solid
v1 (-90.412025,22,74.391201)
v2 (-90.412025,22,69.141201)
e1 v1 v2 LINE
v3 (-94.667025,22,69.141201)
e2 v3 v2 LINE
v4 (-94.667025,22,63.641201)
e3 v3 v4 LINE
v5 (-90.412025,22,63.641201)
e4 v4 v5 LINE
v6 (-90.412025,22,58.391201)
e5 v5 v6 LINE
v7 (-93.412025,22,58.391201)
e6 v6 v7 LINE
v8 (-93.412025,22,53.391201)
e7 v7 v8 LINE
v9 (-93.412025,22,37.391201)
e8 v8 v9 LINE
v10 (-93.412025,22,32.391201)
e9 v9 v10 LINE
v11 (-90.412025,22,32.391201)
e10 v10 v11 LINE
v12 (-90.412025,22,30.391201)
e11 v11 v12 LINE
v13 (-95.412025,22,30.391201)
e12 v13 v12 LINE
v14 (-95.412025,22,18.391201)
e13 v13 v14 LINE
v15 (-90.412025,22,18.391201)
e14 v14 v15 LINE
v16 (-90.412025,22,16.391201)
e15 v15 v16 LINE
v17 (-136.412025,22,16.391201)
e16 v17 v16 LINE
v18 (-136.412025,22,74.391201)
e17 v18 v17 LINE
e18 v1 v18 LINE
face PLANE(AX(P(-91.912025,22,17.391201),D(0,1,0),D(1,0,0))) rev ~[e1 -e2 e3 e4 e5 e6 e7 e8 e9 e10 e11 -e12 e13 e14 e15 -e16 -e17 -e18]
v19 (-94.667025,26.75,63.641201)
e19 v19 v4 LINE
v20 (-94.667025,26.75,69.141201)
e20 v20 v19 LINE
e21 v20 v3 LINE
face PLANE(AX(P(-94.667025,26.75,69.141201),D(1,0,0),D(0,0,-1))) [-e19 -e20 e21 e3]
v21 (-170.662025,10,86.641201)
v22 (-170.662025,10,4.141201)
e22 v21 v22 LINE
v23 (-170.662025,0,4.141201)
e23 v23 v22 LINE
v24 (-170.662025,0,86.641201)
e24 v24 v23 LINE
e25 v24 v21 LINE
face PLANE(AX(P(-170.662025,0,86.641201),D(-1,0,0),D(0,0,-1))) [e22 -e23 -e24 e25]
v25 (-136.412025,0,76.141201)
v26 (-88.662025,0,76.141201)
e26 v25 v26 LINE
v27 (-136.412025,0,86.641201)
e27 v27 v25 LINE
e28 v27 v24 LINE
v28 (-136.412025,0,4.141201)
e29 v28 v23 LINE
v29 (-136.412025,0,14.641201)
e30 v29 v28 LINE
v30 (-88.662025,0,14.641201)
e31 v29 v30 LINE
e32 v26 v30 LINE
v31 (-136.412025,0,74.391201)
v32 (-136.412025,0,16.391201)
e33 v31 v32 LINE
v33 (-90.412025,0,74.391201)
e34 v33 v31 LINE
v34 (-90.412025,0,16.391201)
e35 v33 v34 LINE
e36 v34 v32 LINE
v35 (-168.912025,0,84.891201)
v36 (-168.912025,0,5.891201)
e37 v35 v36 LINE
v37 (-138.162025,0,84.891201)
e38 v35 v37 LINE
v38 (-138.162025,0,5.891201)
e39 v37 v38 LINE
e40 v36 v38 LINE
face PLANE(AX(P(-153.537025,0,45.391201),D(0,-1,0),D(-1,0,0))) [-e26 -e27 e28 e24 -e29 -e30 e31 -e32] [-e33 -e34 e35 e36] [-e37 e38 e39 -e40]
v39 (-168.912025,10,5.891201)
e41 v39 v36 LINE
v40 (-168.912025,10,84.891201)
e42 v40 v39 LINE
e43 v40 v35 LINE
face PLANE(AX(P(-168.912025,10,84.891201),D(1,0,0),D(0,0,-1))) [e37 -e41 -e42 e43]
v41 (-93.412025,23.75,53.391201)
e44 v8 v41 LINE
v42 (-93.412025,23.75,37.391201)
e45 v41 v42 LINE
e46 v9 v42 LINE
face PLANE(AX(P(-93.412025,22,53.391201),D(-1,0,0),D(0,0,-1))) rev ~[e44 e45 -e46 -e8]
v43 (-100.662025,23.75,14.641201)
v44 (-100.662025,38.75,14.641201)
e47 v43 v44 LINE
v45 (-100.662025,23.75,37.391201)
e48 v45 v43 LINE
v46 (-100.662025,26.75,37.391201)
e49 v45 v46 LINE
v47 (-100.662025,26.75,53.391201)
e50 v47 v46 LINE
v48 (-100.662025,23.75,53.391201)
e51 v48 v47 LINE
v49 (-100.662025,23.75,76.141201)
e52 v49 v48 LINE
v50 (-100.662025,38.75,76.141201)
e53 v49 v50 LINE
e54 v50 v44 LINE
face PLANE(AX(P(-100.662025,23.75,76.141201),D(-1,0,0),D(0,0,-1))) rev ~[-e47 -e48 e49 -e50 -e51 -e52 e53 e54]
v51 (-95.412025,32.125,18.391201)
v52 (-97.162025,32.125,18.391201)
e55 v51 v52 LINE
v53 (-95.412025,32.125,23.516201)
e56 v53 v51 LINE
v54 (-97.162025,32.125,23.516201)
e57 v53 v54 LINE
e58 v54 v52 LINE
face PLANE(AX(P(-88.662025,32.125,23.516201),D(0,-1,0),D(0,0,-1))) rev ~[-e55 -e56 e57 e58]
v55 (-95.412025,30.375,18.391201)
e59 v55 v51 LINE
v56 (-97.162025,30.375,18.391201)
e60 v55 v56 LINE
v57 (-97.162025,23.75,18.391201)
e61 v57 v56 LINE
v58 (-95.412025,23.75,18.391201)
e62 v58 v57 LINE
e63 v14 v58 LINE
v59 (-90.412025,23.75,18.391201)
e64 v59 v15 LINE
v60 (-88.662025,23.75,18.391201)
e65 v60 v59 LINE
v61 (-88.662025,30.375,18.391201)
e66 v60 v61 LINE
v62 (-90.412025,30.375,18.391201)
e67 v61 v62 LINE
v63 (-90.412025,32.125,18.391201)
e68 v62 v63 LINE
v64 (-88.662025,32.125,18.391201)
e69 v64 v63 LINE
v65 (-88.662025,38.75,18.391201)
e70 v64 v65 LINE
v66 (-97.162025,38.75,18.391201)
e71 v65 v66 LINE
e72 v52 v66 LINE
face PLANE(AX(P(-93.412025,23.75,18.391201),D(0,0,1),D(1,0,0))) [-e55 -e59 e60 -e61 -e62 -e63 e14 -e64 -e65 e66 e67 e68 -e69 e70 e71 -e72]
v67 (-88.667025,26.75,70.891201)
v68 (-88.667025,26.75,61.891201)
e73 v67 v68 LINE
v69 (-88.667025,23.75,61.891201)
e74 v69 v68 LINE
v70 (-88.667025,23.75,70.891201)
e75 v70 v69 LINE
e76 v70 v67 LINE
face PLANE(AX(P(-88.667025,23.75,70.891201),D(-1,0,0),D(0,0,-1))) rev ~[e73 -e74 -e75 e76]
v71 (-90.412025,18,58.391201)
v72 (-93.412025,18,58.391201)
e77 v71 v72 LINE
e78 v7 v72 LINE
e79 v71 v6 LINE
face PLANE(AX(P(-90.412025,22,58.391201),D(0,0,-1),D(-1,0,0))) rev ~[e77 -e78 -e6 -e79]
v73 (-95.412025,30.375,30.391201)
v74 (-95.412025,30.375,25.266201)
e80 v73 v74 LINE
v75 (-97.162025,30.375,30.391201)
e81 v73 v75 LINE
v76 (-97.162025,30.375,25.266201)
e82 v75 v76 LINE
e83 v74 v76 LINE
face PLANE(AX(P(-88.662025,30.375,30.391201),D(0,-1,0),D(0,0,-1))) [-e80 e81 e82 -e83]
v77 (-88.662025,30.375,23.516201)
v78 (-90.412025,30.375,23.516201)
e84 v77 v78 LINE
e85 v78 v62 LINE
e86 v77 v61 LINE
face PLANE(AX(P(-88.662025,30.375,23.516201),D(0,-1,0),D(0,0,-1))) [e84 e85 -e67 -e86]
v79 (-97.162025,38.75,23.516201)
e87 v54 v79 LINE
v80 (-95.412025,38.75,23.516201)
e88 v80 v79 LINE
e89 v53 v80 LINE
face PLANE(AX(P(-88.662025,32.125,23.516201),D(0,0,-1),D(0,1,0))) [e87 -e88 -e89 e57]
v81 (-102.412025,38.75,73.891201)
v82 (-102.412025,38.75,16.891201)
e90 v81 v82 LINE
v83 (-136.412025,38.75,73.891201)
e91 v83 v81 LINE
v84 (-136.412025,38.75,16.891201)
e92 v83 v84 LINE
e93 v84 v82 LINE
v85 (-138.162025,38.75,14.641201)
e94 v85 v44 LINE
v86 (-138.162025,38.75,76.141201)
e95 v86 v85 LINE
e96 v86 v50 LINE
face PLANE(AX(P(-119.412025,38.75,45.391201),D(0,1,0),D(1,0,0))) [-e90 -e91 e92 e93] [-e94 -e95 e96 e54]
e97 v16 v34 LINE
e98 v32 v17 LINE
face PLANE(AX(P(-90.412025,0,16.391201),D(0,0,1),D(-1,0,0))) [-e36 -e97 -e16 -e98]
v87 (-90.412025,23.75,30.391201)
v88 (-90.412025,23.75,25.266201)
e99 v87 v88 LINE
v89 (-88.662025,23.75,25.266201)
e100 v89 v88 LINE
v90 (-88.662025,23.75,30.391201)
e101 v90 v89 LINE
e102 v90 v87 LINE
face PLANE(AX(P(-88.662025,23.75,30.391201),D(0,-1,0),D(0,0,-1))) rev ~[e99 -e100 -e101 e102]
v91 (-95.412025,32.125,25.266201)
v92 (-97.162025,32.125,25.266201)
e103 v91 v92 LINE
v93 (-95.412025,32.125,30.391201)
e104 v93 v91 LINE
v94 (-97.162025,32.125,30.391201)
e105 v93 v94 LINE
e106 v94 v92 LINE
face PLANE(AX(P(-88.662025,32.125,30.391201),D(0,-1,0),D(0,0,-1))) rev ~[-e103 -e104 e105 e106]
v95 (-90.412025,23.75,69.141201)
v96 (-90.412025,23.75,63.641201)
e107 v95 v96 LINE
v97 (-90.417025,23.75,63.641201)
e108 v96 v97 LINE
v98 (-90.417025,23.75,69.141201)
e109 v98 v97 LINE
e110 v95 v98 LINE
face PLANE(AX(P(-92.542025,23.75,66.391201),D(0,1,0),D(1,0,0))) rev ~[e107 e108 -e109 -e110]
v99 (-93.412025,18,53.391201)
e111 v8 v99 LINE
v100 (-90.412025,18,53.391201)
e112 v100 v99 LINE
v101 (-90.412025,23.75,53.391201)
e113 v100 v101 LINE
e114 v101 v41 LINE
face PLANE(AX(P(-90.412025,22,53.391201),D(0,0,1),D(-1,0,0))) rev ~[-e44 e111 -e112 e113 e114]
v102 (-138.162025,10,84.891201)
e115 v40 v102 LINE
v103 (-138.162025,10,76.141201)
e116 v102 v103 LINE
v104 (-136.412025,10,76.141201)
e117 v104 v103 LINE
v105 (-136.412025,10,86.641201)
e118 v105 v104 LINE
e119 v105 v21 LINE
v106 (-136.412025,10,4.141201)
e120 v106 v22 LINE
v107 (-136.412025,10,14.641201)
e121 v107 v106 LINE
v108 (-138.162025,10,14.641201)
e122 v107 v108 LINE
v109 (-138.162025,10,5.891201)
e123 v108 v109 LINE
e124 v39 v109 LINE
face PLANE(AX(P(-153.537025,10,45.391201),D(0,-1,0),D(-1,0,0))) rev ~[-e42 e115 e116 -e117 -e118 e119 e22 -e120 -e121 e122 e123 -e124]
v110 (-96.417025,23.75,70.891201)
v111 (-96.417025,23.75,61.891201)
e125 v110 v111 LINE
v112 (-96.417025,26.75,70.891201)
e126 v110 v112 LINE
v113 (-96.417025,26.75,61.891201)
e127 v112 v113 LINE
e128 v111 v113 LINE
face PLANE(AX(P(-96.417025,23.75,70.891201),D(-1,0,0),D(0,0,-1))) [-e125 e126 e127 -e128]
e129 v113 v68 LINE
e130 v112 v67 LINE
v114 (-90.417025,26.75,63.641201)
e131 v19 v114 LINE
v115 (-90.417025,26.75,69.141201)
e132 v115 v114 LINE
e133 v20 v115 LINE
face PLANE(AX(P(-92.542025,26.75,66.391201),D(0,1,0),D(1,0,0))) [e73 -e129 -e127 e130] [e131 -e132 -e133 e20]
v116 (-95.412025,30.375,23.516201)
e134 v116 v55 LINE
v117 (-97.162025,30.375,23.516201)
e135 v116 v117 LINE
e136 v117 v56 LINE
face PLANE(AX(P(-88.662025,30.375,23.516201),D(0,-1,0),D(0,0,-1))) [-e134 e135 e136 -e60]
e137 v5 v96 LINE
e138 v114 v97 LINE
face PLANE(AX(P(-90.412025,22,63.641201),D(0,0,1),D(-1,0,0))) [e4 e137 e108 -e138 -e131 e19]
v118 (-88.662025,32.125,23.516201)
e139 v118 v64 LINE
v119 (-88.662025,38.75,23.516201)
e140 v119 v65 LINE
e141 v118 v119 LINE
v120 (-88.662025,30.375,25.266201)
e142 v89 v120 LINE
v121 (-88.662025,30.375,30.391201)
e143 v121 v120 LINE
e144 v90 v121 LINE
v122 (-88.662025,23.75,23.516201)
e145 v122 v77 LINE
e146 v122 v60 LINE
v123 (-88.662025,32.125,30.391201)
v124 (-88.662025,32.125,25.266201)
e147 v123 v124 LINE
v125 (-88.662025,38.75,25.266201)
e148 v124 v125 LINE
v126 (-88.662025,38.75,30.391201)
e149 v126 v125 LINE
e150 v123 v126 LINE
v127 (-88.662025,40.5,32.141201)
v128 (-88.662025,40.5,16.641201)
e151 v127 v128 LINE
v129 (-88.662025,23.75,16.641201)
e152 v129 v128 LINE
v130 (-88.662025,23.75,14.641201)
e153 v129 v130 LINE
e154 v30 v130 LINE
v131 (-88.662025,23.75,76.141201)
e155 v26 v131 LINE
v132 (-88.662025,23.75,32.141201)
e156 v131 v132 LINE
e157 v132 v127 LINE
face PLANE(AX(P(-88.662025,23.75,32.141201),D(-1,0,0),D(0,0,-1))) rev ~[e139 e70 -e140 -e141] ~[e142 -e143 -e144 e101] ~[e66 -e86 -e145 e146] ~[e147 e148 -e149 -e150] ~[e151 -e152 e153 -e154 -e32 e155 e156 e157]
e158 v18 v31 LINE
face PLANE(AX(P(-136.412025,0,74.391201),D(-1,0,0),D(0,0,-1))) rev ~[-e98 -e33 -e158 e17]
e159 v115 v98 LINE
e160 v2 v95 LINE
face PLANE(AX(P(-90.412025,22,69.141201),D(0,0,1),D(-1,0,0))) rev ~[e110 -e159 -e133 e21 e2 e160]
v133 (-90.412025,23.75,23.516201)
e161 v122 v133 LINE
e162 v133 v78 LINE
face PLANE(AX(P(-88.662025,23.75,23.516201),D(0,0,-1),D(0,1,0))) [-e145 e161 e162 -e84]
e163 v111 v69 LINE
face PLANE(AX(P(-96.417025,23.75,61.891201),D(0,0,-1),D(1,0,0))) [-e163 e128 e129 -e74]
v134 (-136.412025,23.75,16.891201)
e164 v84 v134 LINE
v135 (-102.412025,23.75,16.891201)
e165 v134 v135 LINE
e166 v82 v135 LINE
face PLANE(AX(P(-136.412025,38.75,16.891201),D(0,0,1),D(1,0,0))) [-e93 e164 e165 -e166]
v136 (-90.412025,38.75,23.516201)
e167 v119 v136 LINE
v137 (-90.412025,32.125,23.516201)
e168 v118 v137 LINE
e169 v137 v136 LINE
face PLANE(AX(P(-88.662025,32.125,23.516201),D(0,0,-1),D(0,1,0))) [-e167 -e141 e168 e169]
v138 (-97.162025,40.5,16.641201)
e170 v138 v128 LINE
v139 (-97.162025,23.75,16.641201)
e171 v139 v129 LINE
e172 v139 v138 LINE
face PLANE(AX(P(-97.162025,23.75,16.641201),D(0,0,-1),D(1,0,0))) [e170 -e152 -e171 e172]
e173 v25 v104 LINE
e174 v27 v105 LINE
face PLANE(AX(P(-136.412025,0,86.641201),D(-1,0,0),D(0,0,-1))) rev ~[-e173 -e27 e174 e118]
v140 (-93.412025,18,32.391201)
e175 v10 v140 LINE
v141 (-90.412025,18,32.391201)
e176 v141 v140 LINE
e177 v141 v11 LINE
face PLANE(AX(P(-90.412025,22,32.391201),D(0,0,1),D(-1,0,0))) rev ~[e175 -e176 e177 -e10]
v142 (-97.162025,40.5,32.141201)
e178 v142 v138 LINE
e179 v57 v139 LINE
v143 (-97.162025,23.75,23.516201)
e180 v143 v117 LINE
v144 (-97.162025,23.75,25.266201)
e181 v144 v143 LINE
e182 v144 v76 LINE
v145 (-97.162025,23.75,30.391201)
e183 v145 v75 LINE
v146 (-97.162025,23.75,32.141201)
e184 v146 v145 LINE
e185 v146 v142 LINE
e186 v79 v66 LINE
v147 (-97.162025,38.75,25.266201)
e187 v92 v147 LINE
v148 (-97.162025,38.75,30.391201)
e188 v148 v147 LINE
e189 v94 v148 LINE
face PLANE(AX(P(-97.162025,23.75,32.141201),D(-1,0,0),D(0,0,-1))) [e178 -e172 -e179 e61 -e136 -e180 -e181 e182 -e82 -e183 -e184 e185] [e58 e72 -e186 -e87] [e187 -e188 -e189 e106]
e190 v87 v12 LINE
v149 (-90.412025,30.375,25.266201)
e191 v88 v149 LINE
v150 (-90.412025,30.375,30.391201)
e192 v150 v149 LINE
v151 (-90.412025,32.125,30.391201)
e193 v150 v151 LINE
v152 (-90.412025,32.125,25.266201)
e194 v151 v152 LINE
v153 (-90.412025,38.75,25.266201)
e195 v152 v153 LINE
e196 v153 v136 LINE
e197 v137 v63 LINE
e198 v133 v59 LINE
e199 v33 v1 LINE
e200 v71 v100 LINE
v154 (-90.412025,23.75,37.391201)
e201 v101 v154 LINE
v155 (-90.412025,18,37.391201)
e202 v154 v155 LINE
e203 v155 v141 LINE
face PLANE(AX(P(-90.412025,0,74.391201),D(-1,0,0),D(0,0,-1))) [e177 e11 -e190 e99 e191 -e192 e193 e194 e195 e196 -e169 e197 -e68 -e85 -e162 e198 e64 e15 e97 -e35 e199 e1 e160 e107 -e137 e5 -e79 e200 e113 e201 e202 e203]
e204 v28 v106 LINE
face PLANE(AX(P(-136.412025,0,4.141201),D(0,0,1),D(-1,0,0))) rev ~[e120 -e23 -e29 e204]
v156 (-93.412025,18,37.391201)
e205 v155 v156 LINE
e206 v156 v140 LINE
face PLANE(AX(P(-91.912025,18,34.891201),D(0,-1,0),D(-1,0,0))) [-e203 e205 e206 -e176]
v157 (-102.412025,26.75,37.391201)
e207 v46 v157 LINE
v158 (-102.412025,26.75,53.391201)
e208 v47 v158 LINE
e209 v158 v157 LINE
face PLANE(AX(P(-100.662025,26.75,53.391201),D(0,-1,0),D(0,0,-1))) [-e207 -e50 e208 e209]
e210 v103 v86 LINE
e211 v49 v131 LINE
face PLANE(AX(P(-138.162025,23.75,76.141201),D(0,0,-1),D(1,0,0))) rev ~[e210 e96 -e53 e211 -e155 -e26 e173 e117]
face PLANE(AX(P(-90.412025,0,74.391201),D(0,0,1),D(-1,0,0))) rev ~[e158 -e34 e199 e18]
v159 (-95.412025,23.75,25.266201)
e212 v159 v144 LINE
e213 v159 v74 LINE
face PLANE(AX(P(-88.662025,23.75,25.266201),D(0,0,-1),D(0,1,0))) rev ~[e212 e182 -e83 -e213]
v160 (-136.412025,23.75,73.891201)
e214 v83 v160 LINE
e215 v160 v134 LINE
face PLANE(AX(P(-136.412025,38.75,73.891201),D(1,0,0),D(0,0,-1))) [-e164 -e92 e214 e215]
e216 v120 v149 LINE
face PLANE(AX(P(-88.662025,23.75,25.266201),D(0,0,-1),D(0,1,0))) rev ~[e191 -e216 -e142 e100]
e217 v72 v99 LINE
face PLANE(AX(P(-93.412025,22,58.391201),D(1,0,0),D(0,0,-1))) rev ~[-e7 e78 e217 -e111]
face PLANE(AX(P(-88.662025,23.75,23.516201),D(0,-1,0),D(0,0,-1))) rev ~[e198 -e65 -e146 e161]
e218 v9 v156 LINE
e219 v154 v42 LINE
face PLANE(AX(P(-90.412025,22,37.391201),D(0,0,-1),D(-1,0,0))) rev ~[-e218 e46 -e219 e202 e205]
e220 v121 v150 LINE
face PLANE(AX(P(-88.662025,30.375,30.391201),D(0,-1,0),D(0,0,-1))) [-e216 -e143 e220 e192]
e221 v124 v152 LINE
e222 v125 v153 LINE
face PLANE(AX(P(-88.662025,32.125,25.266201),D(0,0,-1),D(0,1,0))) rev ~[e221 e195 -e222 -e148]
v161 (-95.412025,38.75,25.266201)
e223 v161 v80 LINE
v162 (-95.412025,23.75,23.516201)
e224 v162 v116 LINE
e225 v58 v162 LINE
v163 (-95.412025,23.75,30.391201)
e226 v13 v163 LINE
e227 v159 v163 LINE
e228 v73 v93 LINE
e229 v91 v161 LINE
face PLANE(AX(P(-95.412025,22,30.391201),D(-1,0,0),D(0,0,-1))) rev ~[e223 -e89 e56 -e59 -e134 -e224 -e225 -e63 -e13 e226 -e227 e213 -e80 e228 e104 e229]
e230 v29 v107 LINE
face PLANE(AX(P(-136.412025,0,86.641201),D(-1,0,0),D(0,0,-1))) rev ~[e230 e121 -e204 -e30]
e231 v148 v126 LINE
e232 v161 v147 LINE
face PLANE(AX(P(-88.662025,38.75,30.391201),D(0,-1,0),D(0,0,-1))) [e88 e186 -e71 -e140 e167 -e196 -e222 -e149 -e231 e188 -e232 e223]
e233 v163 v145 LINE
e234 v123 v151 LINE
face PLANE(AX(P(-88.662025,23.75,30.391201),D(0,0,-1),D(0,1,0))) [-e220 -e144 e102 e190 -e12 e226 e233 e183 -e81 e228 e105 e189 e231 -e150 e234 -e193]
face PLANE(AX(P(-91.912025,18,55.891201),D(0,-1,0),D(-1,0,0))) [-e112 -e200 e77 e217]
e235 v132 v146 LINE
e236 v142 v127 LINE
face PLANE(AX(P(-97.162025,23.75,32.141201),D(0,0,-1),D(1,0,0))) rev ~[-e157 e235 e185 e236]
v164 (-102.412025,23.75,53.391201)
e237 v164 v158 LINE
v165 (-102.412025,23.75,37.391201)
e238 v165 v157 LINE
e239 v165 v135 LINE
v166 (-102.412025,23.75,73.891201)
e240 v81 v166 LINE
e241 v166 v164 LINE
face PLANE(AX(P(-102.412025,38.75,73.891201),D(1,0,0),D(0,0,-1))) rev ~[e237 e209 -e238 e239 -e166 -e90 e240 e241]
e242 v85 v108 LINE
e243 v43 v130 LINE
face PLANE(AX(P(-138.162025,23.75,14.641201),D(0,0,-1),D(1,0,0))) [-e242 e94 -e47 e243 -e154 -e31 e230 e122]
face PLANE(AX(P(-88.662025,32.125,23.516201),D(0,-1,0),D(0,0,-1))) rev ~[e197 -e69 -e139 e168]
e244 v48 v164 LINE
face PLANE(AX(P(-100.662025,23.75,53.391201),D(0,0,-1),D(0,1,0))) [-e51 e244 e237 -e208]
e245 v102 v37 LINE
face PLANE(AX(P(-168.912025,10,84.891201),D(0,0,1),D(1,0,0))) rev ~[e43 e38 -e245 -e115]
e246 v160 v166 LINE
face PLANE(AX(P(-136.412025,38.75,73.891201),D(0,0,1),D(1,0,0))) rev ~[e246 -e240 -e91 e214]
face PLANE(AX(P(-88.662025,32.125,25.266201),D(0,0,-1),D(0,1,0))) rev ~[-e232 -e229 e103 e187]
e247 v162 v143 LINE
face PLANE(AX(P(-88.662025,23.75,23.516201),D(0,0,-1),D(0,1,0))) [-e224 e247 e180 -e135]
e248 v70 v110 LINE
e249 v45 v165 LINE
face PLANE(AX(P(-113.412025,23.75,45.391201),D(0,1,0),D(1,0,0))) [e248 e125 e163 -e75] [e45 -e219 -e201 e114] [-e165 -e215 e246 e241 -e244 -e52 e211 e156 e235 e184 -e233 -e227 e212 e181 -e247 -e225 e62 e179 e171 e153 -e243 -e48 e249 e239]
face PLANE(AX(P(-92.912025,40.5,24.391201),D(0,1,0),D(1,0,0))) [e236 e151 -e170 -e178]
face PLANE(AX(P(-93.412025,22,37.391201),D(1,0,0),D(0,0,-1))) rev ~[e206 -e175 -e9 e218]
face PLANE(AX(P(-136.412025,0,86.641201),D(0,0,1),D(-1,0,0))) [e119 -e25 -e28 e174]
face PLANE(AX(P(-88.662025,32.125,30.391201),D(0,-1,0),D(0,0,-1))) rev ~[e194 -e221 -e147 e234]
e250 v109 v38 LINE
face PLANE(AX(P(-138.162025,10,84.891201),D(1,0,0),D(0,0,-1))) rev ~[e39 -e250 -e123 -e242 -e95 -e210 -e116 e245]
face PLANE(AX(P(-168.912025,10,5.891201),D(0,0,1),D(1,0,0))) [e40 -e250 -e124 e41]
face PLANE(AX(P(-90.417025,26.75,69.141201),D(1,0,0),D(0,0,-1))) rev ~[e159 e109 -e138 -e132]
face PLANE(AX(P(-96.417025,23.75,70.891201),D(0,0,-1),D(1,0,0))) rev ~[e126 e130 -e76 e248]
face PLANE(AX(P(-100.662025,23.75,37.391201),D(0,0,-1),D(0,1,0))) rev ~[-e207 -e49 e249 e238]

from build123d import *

# Parameters (mm, degrees)
SKETCH1_W               = 49.5
SKETCH1_H               = 61.5
BOSS_EXTRUDE1_DEPTH     = 23.75
SKETCH2_W               = 46
SKETCH2_H               = 58
CUT_EXTRUDE1_DEPTH      = 22
SKETCH3_W               = 3
SKETCH3_H               = 16
CUT_EXTRUDE2_DEPTH      = 1.75
SKETCH7_W               = 3
SKETCH7_H               = 5
BOSS_EXTRUDE2_DEPTH     = 4
SKETCH11_W              = 37.5
SKETCH11_H              = 61.5
BOSS_EXTRUDE3_DEPTH     = 15
SKETCH12_W              = 34
SKETCH12_H              = 57
CUT_EXTRUDE3_DEPTH      = 15
SKETCH14_W              = 7.75
SKETCH14_H              = 9
BOSS_EXTRUDE4_DEPTH     = 3
SKETCH15_W              = 4.25
SKETCH15_H              = 5.5
CUT_EXTRUDE4_DEPTH      = 4.75
SKETCH16_W              = 8.5
SKETCH16_H              = 15.5
BOSS_EXTRUDE5_DEPTH     = 16.75
SKETCH17_W              = 5.125
SKETCH17_H              = 6.625
CUT_EXTRUDE5_DEPTH      = 8.5
CUT_EXTRUDE6_DEPTH      = 15
CUT_EXTRUDE6_DEPTH_BACK = 1.75
SKETCH18_W              = 5
SKETCH18_H              = 12
SKETCH20_W              = 16
SKETCH20_H              = 3
CUT_EXTRUDE7_DEPTH      = 1.75
SKETCH21_W              = 34.25
SKETCH21_H              = 82.5
BOSS_EXTRUDE7_DEPTH     = 10
SKETCH23_W              = 30.75
SKETCH23_H              = 79
CUT_EXTRUDE8_DEPTH      = 10
SKETCH25_W              = 3
SKETCH25_H              = 5.25
BOSS_EXTRUDE8_DEPTH     = 1.75
SKETCH28_W              = 3
SKETCH28_H              = 2
BOSS_EXTRUDE9_DEPTH     = 1.75


with BuildPart() as part:
    # Sketch1 → Boss-Extrude1 (new body)
    with BuildSketch(Plane(origin=(0, 0, 0), x_dir=(1, 0, 0), z_dir=(0, 1, 0))):
        with Locations((-113.412024913, -45.391200727)):
            Rectangle(SKETCH1_W, SKETCH1_H)
    extrude(amount=BOSS_EXTRUDE1_DEPTH)

    # Sketch2 → Cut-Extrude1 (cut)
    with BuildSketch(Plane(origin=(0, 0, 0), x_dir=(-1, 0, 0), z_dir=(0, -1, 0))):
        with Locations((113.412024913, -45.391200727)):
            Rectangle(SKETCH2_W, SKETCH2_H)
    extrude(amount=-CUT_EXTRUDE1_DEPTH, mode=Mode.SUBTRACT)

    # Sketch3 → Cut-Extrude2 (cut)
    with BuildSketch(Plane(origin=(0, 22, 0), x_dir=(-1, 0, 0), z_dir=(0, -1, 0))):
        with Locations((91.912024913, -66.391200727)):
            Rectangle(SKETCH3_W, SKETCH3_H)
        with Locations((91.912024913, -24.391200727)):
            Rectangle(SKETCH3_W, SKETCH3_H)
        with Locations((91.912024913, -45.391200727)):
            Rectangle(SKETCH3_W, SKETCH3_H)
    extrude(amount=-CUT_EXTRUDE2_DEPTH, mode=Mode.SUBTRACT)

    # Sketch7 → Boss-Extrude2 (add)
    with BuildSketch(Plane(origin=(0, 22, 0), x_dir=(-1, 0, 0), z_dir=(0, -1, 0))):
        with Locations((91.912024913, -55.891200727)):
            Rectangle(SKETCH7_W, SKETCH7_H)
        with Locations((91.912024913, -34.891200727)):
            Rectangle(SKETCH7_W, SKETCH7_H)
    extrude(amount=BOSS_EXTRUDE2_DEPTH)

    # Sketch11 → Boss-Extrude3 (add)
    with BuildSketch(Plane(origin=(0, 23.75, 0), x_dir=(1, 0, 0), z_dir=(0, 1, 0))):
        with Locations((-119.412024913, -45.391200727)):
            Rectangle(SKETCH11_W, SKETCH11_H)
    extrude(amount=BOSS_EXTRUDE3_DEPTH)

    # Sketch12 → Cut-Extrude3 (cut)
    with BuildSketch(Plane(origin=(0, 38.75, 0), x_dir=(1, 0, 0), z_dir=(0, 1, 0))):
        with Locations((-119.412024913, -45.391200727)):
            Rectangle(SKETCH12_W, SKETCH12_H)
    extrude(amount=-CUT_EXTRUDE3_DEPTH, mode=Mode.SUBTRACT)

    # Sketch14 → Boss-Extrude4 (add)
    with BuildSketch(Plane(origin=(0, 23.75, 0), x_dir=(1, 0, 0), z_dir=(0, 1, 0))):
        with Locations((-92.542024913, -66.391200727)):
            Rectangle(SKETCH14_W, SKETCH14_H)
    extrude(amount=BOSS_EXTRUDE4_DEPTH)

    # Sketch15 → Cut-Extrude4 (cut)
    with BuildSketch(Plane(origin=(0, 26.75, 0), x_dir=(1, 0, 0), z_dir=(0, 1, 0))):
        with Locations((-92.542024913, -66.391200727)):
            Rectangle(SKETCH15_W, SKETCH15_H)
    extrude(amount=-CUT_EXTRUDE4_DEPTH, mode=Mode.SUBTRACT)

    # Sketch16 → Boss-Extrude5 (add)
    with BuildSketch(Plane(origin=(0, 23.75, 0), x_dir=(1, 0, 0), z_dir=(0, 1, 0))):
        with Locations((-92.912024913, -24.391200727)):
            Rectangle(SKETCH16_W, SKETCH16_H)
    extrude(amount=BOSS_EXTRUDE5_DEPTH)

    # Sketch17 → Cut-Extrude5 (cut)
    with BuildSketch(Plane(origin=(-88.662024913, 0, 0), x_dir=(0, 0, -1), z_dir=(1, 0, 0))):
        with Locations((-27.828700727, 35.4375)):
            Rectangle(SKETCH17_W, SKETCH17_H)
        with Locations((-27.828700727, 27.0625)):
            Rectangle(SKETCH17_W, SKETCH17_H)
        with Locations((-20.953700727, 35.4375)):
            Rectangle(SKETCH17_W, SKETCH17_H)
        with Locations((-20.953700727, 27.0625)):
            Rectangle(SKETCH17_W, SKETCH17_H)
    extrude(amount=-CUT_EXTRUDE5_DEPTH, mode=Mode.SUBTRACT)

    # Sketch18 → Cut-Extrude6 (cut, two sides: drawn at the far end of the back side and taken through both)
    with BuildSketch(Plane(origin=(0, 23.75, 0), x_dir=(1, 0, 0), z_dir=(0, 1, 0)).offset(-CUT_EXTRUDE6_DEPTH_BACK)):
        with Locations((-92.912024913, -24.391200727)):
            Rectangle(SKETCH18_W, SKETCH18_H)
    extrude(amount=CUT_EXTRUDE6_DEPTH + CUT_EXTRUDE6_DEPTH_BACK, mode=Mode.SUBTRACT)

    # Sketch20 → Cut-Extrude7 (cut)
    with BuildSketch(Plane(origin=(-100.662024913, 0, 0), x_dir=(0, 0, -1), z_dir=(1, 0, 0))):
        with Locations((-45.391200727, 25.25)):
            Rectangle(SKETCH20_W, SKETCH20_H)
    extrude(amount=-CUT_EXTRUDE7_DEPTH, mode=Mode.SUBTRACT)

    # Sketch21 → Boss-Extrude7 (add)
    with BuildSketch(Plane(origin=(0, 0, 0), x_dir=(-1, 0, 0), z_dir=(0, -1, 0))):
        with Locations((153.537024913, -45.391200727)):
            Rectangle(SKETCH21_W, SKETCH21_H)
    extrude(amount=-BOSS_EXTRUDE7_DEPTH)

    # Sketch23 → Cut-Extrude8 (cut)
    with BuildSketch(Plane(origin=(0, 10, 0), x_dir=(1, 0, 0), z_dir=(0, 1, 0))):
        with Locations((-153.537024913, -45.391200727)):
            Rectangle(SKETCH23_W, SKETCH23_H)
    extrude(amount=-CUT_EXTRUDE8_DEPTH, mode=Mode.SUBTRACT)

    # Sketch25 → Boss-Extrude8 (add)
    with BuildSketch(Plane(origin=(0, 22, 0), x_dir=(-1, 0, 0), z_dir=(0, -1, 0))):
        with Locations((91.912024913, -61.016200727)):
            Rectangle(SKETCH25_W, SKETCH25_H)
        with Locations((91.912024913, -71.766200727)):
            Rectangle(SKETCH25_W, SKETCH25_H)
    extrude(amount=-BOSS_EXTRUDE8_DEPTH)

    # Sketch28 → Boss-Extrude9 (add)
    with BuildSketch(Plane(origin=(0, 23.75, 0), x_dir=(1, 0, 0), z_dir=(0, 1, 0))):
        with Locations((-91.912024913, -17.391200727)):
            Rectangle(SKETCH28_W, SKETCH28_H)
        with Locations((-91.912024913, -31.391200727)):
            Rectangle(SKETCH28_W, SKETCH28_H)
    extrude(amount=-BOSS_EXTRUDE9_DEPTH)


solid = part.part
